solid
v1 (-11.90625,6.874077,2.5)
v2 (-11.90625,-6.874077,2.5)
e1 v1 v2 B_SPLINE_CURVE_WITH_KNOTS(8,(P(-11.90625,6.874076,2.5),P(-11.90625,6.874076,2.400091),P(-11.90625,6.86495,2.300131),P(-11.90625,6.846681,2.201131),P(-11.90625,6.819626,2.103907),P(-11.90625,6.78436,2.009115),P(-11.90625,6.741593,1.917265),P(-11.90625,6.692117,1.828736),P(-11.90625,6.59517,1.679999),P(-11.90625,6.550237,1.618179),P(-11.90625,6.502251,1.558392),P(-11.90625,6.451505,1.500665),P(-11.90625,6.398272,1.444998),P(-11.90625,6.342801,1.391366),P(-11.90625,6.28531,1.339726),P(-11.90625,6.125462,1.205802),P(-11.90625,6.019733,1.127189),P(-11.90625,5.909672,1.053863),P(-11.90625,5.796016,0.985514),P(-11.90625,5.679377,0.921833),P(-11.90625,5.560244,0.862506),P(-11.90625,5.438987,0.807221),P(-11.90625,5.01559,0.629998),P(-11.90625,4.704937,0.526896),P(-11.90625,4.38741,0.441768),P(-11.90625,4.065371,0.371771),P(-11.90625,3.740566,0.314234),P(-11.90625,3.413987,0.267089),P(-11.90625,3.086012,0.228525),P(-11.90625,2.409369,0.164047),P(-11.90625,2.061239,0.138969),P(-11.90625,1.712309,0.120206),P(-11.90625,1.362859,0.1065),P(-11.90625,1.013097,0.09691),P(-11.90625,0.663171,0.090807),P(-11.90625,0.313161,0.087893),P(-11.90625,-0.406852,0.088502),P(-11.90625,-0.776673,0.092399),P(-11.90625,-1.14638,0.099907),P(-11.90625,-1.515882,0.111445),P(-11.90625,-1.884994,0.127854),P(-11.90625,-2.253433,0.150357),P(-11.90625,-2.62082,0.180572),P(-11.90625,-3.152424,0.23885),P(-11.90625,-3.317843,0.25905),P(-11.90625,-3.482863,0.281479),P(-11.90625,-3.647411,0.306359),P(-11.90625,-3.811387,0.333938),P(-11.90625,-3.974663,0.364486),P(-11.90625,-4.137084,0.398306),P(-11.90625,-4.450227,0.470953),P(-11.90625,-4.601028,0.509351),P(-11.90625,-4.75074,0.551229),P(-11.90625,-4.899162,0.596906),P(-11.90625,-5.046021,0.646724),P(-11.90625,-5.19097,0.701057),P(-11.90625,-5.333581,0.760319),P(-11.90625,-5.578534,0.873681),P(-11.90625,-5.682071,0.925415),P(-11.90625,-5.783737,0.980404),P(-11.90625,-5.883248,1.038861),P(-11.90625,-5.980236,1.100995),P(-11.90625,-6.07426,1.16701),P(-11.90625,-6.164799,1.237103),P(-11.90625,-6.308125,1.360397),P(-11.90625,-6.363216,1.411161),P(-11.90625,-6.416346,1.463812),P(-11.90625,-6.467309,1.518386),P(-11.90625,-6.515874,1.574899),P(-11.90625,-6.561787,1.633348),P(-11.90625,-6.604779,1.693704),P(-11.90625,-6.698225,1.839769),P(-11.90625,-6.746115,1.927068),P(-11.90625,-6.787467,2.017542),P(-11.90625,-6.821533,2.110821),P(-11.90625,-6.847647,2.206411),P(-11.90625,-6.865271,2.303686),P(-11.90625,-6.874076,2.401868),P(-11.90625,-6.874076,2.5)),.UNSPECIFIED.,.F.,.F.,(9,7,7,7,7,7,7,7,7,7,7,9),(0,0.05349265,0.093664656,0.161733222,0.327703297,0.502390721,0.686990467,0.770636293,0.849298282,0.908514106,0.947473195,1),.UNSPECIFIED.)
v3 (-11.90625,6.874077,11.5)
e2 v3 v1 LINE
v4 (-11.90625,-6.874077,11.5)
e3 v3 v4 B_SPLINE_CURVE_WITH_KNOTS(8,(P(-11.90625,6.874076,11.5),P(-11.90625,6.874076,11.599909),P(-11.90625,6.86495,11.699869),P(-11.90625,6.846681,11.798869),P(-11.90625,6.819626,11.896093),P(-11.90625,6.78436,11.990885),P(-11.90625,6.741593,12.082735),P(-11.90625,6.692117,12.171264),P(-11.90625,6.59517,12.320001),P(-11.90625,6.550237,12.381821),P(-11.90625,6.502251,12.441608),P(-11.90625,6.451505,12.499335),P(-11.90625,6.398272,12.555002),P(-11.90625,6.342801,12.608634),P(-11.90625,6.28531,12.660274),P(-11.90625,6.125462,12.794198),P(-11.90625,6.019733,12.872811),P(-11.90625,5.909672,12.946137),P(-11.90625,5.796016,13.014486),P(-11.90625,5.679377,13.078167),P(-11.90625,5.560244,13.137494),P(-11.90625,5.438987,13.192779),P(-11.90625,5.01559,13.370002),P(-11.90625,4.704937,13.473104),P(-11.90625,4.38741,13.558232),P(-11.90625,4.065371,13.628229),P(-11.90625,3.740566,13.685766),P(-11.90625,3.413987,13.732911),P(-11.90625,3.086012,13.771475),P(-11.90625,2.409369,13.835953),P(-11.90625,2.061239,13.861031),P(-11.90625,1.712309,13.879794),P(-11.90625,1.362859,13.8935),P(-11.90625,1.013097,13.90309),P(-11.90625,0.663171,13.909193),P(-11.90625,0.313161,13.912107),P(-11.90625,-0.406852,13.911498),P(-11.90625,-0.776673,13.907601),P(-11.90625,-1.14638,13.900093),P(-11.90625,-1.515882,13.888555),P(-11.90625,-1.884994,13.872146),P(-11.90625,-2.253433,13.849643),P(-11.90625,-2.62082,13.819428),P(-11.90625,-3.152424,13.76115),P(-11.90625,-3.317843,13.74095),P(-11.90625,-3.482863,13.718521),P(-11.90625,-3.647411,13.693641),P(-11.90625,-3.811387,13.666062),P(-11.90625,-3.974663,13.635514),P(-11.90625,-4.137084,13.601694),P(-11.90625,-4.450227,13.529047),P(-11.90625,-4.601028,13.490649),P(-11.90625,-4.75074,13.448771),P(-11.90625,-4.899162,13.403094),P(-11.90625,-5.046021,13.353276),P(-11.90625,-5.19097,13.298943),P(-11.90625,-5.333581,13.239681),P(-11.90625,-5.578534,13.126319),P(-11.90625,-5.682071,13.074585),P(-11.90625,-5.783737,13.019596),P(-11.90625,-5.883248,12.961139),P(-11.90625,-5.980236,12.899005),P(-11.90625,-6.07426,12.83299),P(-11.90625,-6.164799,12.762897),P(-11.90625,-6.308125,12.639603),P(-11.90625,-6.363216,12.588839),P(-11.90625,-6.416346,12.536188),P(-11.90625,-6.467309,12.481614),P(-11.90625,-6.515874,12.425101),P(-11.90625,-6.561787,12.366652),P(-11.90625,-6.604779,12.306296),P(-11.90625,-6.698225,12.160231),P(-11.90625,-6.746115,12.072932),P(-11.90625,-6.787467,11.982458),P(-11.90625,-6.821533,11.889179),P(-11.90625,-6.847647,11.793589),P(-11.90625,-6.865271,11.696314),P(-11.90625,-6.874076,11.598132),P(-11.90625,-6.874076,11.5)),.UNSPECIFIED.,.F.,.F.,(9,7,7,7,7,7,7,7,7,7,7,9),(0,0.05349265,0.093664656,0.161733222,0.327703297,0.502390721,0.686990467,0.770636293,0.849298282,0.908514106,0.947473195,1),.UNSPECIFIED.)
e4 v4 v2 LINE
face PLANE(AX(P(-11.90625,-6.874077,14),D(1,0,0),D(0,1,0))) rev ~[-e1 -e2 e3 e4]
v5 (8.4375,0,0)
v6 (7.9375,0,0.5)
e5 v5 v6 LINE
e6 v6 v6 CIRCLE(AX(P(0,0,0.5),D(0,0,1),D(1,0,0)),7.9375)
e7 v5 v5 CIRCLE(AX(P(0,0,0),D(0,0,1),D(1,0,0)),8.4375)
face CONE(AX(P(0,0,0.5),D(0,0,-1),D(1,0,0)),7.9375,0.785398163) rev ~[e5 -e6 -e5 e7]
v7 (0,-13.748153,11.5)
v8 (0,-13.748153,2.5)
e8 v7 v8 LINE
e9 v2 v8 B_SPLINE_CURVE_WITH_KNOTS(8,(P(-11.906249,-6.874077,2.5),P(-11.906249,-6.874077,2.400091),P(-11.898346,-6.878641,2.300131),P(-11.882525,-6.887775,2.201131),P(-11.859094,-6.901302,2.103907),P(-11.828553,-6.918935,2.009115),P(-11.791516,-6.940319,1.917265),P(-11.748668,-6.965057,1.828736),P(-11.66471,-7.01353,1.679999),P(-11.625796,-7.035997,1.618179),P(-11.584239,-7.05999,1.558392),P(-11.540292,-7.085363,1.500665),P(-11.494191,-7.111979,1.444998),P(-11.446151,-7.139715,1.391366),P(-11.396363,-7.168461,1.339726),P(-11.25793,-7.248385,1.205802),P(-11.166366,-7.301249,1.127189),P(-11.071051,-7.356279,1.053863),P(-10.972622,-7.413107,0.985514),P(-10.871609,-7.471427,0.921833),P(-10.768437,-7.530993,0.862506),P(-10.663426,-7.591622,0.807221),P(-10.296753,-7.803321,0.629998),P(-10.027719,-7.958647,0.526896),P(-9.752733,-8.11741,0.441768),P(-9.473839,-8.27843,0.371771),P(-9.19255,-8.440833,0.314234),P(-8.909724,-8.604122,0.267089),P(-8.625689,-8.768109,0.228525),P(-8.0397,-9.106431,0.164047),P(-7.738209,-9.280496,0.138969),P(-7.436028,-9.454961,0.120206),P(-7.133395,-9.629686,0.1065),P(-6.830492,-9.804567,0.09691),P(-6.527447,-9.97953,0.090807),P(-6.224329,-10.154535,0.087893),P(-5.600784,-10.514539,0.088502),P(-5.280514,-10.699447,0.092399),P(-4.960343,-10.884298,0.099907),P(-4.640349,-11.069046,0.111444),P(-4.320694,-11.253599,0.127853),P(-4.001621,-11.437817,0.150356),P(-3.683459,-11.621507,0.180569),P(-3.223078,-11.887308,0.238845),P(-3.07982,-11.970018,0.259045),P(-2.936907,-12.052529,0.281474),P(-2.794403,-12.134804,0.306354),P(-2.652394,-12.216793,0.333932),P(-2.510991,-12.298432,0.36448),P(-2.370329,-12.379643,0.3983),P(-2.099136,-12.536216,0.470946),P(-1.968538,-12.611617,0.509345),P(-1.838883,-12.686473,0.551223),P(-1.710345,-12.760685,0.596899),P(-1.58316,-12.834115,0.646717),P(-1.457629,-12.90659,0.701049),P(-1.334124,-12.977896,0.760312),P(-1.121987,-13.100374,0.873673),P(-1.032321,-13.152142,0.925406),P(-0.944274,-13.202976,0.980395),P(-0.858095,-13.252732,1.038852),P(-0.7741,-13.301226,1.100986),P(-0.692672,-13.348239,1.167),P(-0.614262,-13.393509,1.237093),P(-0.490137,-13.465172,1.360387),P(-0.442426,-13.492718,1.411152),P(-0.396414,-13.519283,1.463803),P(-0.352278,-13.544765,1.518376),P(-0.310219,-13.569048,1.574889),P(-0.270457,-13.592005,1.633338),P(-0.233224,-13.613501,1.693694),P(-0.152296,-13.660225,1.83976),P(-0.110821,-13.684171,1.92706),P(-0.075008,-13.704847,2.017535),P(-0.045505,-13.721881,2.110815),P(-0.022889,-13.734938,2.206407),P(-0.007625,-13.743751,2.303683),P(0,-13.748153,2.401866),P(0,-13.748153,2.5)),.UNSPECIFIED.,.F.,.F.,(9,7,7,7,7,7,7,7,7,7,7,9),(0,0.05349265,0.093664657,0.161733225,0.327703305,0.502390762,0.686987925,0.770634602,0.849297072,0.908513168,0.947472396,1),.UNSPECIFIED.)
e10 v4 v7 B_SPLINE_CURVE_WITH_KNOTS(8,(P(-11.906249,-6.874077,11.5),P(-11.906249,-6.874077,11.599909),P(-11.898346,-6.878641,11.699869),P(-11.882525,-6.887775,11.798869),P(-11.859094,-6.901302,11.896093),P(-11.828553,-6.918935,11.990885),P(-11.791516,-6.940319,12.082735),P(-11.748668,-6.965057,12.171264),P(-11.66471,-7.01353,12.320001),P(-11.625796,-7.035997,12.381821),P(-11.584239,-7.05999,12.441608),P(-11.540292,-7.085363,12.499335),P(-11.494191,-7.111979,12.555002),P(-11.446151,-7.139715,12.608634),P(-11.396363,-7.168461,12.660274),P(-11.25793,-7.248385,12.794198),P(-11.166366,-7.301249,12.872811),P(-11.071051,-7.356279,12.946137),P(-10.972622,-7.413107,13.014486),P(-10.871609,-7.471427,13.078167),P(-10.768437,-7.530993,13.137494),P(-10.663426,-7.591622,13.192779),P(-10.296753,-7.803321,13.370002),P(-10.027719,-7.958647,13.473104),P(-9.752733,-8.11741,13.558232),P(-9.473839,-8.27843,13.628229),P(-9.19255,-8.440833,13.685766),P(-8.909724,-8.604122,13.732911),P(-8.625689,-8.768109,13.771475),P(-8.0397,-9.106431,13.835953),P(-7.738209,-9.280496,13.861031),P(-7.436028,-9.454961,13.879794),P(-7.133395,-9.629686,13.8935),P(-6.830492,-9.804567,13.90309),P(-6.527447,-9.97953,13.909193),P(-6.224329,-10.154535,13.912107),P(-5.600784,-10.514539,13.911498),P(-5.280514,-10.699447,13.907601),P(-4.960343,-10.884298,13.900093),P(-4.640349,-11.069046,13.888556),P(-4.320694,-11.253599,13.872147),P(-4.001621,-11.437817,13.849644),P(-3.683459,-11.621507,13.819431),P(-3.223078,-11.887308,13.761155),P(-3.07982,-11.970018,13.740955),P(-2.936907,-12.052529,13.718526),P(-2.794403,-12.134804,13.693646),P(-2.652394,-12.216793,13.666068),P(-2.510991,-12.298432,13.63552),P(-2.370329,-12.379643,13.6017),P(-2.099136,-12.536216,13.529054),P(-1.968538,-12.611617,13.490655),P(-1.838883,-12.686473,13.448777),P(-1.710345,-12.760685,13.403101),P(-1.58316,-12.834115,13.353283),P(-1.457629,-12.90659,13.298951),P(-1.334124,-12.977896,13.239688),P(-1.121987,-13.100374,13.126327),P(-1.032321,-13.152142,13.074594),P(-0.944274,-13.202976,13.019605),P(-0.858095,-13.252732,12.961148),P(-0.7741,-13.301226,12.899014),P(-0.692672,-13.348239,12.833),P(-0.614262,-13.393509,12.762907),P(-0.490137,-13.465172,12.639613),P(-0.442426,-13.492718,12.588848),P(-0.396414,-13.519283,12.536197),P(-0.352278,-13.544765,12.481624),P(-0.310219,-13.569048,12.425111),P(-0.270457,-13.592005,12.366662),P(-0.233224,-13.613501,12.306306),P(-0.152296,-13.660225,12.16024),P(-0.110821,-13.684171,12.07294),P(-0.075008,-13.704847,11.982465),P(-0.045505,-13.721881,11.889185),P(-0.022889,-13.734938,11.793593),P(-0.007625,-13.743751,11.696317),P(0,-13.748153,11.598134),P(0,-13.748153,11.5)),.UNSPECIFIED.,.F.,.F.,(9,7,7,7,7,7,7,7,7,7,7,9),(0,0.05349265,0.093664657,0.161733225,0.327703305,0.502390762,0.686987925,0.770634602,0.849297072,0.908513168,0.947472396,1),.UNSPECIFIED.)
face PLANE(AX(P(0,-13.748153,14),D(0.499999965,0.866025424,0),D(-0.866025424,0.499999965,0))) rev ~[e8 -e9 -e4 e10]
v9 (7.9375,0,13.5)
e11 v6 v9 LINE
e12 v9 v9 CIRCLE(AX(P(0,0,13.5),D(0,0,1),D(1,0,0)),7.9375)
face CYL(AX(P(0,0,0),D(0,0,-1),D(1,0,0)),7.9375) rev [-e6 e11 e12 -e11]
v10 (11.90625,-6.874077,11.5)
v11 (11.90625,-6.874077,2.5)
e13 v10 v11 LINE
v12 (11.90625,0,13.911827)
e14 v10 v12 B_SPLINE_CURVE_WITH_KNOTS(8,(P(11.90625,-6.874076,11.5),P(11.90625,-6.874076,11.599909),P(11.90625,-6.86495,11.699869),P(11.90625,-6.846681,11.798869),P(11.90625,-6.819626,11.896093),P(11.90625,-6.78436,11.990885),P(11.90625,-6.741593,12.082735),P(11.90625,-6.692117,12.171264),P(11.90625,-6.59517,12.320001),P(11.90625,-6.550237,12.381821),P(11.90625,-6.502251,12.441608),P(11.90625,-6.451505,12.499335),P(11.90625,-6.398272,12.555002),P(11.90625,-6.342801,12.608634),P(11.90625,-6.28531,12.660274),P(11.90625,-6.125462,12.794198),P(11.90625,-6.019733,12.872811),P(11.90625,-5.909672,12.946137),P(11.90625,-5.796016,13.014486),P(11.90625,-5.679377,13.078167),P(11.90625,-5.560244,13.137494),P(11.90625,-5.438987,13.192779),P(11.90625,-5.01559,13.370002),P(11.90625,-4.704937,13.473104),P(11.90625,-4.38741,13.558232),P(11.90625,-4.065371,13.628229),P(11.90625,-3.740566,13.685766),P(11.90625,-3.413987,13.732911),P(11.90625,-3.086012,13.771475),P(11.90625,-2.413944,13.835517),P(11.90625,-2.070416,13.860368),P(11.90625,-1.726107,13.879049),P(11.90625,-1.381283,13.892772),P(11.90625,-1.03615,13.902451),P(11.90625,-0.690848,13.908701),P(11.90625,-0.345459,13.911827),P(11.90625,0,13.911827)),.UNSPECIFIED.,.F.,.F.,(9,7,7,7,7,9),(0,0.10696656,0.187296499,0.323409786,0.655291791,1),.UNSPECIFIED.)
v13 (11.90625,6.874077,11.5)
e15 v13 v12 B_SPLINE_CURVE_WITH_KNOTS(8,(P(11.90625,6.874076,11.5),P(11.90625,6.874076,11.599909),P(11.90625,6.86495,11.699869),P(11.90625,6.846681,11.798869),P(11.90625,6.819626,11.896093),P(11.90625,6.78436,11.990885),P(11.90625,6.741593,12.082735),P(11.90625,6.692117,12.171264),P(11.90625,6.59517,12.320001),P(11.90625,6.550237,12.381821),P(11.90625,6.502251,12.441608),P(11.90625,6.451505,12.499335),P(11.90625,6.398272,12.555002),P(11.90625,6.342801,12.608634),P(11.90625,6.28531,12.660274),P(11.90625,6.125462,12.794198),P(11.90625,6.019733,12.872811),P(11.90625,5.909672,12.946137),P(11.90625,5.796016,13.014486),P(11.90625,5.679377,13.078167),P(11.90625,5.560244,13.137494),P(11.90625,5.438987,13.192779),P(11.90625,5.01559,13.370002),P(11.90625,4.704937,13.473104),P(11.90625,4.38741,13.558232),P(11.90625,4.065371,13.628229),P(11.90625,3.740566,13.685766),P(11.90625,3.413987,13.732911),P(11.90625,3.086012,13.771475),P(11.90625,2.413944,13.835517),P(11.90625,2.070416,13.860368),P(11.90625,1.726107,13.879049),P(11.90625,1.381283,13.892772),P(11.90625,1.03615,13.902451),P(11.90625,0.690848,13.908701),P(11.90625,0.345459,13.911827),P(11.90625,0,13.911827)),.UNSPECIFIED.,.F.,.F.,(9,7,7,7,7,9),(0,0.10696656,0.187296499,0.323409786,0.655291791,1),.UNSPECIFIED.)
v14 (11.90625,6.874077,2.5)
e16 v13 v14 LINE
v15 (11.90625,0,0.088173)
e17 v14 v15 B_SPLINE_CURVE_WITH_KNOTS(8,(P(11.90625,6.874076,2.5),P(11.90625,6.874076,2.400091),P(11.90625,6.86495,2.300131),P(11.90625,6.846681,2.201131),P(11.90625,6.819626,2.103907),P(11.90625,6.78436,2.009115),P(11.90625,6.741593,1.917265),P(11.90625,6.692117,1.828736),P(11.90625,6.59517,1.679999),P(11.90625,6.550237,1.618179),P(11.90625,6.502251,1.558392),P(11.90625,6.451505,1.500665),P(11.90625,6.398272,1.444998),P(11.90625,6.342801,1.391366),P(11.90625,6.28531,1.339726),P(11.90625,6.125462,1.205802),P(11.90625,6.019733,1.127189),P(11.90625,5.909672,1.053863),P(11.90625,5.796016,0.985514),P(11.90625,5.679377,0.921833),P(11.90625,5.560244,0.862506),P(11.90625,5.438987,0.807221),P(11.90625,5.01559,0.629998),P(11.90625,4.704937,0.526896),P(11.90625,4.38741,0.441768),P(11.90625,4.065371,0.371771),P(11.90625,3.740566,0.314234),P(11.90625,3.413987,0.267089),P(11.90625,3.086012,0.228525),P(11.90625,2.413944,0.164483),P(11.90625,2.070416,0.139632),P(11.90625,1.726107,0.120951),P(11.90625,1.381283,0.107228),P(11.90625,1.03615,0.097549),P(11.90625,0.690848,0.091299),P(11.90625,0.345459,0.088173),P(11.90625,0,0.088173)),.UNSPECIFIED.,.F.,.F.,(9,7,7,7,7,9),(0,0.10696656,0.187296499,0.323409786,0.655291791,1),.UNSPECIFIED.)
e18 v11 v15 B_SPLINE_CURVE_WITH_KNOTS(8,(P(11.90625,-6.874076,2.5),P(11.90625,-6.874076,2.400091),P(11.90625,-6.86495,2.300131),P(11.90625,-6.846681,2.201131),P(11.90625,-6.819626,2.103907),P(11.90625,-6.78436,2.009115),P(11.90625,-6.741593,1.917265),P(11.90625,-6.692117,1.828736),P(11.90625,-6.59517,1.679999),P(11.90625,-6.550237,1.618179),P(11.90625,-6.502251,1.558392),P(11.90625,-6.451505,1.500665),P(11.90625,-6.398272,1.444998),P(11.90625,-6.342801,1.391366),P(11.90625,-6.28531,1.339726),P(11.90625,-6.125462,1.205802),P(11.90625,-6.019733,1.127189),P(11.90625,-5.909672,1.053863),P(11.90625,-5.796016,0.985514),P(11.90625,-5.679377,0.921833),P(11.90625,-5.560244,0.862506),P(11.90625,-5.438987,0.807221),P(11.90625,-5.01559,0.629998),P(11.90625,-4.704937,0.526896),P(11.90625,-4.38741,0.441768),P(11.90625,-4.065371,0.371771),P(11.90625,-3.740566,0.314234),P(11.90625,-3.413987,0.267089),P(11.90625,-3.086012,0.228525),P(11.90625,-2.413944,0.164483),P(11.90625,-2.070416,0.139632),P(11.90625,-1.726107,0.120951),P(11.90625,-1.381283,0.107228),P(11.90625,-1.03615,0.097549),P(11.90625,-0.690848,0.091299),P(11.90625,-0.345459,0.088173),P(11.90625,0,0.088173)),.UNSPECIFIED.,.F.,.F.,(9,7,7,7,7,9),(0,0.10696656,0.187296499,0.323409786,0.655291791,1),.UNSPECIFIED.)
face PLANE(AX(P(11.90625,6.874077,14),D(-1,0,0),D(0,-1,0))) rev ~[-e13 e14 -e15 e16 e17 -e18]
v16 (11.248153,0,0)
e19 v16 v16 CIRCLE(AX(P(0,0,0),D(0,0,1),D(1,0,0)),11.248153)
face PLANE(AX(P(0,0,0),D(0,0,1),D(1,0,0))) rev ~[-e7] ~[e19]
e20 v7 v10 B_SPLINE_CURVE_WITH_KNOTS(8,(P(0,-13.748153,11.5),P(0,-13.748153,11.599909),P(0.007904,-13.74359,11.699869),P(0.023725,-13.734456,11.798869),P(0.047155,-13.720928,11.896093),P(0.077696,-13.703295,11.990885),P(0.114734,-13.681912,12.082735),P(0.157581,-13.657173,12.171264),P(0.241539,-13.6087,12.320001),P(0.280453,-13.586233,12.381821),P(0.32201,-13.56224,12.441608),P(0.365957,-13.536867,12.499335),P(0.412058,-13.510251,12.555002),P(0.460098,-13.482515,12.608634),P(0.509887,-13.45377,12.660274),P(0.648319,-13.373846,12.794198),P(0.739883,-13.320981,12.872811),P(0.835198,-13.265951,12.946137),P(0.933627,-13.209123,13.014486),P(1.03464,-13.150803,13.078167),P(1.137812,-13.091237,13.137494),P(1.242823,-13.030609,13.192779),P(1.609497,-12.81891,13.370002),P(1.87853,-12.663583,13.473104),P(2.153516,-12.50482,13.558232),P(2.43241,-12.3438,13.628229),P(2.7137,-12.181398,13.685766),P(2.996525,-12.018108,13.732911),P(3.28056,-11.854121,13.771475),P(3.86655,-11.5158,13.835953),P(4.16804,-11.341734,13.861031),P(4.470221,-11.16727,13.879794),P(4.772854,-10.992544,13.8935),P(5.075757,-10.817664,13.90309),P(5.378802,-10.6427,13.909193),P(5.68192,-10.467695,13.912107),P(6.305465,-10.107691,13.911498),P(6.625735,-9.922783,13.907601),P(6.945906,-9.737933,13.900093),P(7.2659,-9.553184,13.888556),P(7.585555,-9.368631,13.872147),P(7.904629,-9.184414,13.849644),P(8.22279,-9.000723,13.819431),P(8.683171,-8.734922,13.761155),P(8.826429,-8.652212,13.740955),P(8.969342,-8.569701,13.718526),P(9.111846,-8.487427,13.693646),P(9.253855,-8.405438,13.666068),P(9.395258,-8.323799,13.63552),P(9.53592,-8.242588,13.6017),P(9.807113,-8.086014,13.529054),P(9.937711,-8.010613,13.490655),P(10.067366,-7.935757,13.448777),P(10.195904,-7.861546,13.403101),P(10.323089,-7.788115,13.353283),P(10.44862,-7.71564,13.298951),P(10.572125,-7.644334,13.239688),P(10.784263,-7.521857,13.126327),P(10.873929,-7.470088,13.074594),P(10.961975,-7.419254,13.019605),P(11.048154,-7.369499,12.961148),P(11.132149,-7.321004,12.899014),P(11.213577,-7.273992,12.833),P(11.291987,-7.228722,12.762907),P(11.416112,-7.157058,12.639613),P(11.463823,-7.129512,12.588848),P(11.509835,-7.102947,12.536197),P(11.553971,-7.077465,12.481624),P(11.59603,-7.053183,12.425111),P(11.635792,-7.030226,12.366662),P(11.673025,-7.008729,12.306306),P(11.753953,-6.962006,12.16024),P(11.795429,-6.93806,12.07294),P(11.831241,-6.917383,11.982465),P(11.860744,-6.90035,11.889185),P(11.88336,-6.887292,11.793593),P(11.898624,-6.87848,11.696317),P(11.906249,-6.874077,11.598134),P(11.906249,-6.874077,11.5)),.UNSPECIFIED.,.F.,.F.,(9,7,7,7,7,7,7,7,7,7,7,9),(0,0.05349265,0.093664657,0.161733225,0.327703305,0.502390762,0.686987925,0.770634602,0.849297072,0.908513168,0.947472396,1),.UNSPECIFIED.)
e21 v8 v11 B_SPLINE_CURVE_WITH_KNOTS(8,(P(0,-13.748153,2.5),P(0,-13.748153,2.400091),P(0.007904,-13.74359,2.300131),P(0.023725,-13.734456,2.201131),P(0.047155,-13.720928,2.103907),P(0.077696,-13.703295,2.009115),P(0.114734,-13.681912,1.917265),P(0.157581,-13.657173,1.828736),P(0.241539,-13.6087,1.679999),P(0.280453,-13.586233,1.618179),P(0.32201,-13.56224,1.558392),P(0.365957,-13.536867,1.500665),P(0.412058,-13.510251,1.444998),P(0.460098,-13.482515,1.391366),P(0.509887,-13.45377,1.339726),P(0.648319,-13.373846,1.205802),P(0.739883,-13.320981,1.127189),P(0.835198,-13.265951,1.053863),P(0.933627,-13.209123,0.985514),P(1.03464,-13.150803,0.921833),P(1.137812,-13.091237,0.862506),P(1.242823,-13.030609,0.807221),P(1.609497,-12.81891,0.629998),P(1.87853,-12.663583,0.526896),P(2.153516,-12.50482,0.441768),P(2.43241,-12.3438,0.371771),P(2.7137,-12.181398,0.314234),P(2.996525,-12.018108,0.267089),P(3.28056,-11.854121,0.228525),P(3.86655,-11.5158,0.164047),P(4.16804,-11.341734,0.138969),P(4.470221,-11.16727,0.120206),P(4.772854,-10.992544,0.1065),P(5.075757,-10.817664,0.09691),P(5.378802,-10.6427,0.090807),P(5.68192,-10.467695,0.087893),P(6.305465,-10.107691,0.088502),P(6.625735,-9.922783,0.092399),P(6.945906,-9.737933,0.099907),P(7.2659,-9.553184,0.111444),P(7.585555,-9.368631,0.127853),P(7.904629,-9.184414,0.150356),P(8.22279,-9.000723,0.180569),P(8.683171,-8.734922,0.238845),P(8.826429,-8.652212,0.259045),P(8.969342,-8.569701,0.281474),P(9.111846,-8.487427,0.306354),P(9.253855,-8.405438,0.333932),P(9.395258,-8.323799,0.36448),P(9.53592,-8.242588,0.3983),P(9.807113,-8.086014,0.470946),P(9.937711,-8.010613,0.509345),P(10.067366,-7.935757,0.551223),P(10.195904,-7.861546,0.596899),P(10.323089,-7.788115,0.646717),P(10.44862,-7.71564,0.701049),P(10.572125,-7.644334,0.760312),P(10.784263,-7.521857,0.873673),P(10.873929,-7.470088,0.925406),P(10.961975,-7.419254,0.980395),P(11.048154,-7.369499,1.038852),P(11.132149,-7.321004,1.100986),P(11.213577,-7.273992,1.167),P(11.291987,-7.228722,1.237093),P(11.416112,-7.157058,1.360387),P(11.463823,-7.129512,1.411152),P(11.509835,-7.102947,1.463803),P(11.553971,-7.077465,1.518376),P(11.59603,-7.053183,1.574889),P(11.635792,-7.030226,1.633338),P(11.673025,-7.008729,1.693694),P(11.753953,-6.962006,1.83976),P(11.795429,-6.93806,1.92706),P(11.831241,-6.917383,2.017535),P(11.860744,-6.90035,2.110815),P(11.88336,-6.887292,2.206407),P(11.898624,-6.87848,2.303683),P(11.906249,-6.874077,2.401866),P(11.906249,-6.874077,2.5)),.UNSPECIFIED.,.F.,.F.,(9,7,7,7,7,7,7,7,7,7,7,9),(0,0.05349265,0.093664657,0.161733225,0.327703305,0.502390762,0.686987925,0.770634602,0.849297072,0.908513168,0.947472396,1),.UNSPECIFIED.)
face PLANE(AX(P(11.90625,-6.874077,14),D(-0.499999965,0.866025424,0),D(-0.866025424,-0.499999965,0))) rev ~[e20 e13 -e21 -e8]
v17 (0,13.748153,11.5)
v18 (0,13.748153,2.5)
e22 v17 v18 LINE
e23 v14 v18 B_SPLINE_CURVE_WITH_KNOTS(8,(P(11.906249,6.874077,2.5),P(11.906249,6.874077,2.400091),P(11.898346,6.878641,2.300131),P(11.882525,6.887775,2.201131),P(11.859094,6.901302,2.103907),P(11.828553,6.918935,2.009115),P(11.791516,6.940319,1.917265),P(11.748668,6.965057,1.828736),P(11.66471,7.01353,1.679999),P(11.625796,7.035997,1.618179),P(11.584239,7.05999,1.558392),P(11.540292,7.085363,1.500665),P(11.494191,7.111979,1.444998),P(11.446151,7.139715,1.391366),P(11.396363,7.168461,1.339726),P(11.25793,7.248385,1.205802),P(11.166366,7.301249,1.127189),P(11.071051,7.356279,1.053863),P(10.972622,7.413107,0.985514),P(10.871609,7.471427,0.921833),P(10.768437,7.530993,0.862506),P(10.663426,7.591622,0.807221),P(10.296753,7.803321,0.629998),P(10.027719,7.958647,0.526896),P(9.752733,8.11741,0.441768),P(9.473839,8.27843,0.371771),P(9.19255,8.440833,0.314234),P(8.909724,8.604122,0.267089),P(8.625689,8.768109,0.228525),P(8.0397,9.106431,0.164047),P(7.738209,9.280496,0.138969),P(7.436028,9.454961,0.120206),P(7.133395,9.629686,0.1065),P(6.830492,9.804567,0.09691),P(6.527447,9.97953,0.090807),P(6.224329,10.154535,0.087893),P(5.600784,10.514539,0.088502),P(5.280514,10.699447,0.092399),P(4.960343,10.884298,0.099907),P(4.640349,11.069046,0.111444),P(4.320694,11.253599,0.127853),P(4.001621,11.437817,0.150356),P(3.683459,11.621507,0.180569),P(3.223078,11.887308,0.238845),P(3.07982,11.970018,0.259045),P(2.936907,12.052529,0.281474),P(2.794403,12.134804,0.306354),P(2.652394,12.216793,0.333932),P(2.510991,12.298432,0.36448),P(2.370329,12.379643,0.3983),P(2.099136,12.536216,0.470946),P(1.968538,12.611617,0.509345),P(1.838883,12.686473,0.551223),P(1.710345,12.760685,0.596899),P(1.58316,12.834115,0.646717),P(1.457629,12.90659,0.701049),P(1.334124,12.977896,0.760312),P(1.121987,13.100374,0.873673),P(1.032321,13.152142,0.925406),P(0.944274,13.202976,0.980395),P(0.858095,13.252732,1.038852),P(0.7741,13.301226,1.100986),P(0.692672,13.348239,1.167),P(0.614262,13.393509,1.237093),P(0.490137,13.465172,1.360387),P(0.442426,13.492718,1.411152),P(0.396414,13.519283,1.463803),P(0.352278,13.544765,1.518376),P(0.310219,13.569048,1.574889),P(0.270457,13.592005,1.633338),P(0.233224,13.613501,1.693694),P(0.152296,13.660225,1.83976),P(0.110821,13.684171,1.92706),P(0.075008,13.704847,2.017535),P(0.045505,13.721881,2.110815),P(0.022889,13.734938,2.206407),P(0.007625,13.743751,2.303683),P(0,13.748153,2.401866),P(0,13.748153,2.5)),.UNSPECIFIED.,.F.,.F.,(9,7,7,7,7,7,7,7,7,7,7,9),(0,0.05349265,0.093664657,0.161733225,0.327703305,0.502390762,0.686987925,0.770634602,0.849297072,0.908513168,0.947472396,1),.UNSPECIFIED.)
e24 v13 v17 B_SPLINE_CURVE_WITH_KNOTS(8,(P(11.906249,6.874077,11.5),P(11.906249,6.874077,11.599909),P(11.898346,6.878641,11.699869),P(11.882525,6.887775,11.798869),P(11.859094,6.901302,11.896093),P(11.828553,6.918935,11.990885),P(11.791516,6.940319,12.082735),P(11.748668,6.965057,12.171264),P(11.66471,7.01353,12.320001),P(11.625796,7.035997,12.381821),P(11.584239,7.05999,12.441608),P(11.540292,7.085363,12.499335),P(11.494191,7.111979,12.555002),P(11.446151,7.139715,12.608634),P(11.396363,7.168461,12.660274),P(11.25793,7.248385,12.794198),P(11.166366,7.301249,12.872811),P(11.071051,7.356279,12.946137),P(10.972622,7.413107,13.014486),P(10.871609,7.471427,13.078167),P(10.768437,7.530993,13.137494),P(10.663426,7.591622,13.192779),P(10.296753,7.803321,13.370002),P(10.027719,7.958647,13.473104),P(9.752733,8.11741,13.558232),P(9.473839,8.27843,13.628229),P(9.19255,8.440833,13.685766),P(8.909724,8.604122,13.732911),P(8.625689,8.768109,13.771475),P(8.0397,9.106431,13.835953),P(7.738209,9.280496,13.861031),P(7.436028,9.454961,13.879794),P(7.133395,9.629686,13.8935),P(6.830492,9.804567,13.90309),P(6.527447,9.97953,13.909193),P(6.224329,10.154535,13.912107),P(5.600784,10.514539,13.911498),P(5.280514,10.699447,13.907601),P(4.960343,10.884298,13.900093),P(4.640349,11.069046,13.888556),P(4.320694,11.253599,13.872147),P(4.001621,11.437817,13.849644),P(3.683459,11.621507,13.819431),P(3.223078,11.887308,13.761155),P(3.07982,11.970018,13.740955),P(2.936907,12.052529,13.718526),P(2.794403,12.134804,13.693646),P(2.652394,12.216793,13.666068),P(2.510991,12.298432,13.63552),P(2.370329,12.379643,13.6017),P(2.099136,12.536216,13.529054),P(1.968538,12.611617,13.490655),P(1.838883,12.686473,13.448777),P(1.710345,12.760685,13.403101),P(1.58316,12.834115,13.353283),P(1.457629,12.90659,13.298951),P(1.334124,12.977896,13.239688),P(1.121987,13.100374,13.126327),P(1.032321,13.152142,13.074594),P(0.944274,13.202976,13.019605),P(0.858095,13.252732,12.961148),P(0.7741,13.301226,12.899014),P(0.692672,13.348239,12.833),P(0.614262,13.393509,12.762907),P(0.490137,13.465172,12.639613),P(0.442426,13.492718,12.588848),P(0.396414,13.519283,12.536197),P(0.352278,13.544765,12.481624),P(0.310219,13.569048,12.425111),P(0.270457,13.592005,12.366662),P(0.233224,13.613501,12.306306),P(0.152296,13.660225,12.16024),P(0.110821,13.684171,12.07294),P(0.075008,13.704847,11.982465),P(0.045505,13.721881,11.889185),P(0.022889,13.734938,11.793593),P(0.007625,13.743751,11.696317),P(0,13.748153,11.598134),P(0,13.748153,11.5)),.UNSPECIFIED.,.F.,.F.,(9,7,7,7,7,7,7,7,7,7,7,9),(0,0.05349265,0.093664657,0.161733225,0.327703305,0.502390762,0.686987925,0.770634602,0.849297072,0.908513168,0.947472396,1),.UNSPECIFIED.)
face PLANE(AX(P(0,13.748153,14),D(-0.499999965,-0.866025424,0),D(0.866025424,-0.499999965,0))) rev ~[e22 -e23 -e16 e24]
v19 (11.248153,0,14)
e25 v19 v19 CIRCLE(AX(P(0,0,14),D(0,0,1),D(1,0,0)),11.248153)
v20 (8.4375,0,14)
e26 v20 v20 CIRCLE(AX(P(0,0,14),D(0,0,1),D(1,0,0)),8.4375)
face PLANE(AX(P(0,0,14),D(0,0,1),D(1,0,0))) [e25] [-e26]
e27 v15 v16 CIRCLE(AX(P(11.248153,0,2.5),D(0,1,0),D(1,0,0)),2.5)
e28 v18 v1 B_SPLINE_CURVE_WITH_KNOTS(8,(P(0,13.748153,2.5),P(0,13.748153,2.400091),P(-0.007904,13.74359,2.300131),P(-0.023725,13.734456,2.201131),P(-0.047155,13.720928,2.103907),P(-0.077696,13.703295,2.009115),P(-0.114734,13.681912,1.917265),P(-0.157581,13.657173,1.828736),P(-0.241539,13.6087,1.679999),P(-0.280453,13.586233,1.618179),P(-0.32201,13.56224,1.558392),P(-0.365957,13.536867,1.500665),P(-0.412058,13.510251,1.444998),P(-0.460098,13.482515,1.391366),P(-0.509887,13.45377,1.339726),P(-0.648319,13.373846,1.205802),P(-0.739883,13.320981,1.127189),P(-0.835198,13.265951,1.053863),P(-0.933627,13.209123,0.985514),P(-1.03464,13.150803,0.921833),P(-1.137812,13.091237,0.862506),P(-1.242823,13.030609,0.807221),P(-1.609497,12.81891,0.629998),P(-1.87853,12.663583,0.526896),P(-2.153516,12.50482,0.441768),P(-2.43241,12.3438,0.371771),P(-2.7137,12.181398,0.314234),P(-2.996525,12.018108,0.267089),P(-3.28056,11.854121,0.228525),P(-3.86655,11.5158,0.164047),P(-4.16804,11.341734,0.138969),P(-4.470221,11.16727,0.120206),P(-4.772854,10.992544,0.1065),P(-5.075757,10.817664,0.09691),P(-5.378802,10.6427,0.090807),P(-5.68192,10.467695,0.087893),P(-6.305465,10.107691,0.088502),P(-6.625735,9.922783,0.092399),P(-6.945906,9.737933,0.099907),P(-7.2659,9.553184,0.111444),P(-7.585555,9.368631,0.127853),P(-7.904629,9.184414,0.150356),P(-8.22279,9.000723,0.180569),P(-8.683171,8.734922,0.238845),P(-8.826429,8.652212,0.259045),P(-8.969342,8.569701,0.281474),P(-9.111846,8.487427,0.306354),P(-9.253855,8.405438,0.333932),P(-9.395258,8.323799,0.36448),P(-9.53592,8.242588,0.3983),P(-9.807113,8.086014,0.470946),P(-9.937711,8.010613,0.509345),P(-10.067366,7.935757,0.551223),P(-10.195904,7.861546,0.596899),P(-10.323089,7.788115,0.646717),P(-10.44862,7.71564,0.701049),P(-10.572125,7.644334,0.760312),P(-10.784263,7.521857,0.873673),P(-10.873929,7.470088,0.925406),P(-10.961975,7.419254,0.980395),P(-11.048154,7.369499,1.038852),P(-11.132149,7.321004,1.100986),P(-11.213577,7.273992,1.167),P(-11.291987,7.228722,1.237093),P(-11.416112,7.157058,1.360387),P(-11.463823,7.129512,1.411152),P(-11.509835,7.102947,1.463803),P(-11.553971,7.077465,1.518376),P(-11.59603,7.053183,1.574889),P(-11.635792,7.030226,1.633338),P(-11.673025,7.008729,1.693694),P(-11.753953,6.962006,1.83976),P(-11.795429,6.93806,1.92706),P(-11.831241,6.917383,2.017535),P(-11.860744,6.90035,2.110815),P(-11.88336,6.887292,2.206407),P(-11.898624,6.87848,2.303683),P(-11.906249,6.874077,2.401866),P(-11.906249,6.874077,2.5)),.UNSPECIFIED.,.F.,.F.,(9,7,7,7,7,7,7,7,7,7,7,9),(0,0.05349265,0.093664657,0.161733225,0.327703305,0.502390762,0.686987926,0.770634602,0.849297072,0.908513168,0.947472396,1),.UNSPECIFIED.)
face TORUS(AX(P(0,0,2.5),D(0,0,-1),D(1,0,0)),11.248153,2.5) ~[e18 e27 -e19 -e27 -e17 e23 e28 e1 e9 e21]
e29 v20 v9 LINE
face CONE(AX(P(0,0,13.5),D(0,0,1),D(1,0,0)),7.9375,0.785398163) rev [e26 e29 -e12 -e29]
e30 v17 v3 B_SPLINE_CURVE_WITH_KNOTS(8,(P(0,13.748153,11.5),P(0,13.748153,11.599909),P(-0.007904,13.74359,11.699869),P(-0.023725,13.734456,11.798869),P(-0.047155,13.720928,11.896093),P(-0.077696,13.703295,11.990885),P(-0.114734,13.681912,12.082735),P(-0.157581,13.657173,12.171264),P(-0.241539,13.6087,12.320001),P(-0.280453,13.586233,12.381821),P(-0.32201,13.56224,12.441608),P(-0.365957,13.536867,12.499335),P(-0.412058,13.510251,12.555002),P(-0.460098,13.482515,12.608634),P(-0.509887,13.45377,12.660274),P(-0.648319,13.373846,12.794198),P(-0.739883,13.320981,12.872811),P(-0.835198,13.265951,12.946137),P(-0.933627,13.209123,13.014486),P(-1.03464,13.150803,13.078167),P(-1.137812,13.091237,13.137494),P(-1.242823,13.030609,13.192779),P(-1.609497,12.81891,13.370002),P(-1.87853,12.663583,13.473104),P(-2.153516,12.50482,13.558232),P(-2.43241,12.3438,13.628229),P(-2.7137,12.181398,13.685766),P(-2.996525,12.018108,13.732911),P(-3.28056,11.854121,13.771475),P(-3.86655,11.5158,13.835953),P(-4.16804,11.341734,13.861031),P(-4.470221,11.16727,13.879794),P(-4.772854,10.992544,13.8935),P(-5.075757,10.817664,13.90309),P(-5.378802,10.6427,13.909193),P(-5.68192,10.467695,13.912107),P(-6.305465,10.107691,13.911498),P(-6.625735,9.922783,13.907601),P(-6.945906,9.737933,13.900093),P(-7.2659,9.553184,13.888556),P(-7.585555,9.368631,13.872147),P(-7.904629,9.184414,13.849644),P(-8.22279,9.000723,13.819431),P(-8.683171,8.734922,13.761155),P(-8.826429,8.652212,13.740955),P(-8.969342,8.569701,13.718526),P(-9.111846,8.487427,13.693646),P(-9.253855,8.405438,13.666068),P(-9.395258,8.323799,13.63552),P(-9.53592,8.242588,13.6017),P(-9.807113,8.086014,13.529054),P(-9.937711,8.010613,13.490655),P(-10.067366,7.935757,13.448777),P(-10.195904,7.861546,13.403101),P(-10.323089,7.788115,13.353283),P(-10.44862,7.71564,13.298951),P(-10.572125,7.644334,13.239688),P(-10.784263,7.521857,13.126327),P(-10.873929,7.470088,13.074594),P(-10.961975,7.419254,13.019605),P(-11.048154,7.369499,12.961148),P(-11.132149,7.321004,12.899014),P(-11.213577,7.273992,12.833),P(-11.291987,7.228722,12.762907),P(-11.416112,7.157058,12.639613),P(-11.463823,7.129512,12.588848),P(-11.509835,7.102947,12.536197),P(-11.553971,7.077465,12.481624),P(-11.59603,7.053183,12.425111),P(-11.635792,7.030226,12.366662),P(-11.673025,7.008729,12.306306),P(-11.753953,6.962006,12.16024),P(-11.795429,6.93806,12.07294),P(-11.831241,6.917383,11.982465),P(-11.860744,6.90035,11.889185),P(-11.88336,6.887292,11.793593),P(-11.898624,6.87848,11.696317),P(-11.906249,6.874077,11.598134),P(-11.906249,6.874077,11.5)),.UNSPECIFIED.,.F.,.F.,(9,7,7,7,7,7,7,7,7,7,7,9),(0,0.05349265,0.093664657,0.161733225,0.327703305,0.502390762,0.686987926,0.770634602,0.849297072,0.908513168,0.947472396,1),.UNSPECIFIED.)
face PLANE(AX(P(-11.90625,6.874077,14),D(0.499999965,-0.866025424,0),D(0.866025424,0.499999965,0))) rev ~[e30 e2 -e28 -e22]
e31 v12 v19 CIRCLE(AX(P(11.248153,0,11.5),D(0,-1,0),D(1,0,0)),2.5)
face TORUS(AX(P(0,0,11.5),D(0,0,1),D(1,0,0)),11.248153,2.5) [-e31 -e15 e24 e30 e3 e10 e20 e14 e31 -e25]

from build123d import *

# Parameters (mm, degrees)
F0_R     = 13.748153
F0_R_2   = 7.9375
F1_DEPTH = 14
F3_R     = 2.5
F2_R     = 16.813718
F4_DEPTH = 25
F5_SIZE  = 0.5


with BuildPart() as f1:
    # F0 (on Top) → F1 (new body)
    with BuildSketch(Plane.XY):
        Circle(F0_R)
        Circle(F0_R_2, mode=Mode.SUBTRACT)
    extrude(amount=F1_DEPTH)

    # F3
    f3_edges = [f1.edges().sort_by_distance(p)[0] for p in [
        (-13.748153, 0, 14),
        (-13.748153, 0, 0),
    ]]
    fillet(f3_edges, radius=F3_R)

    # F2 (on face) → F4 (cut)
    with BuildSketch(Plane.XY.offset(14)):
        Circle(F2_R)
        Polygon((-11.90625, 6.874077), (0, 13.748153), (11.90625, 6.874077), (11.90625, -6.874077), (0, -13.748153), (-11.90625, -6.874077), align=None, mode=Mode.SUBTRACT)
    extrude(amount=-F4_DEPTH, mode=Mode.SUBTRACT)

    # F5
    f5_edges = [f1.edges().sort_by_distance(p)[0] for p in [
        (7.9375, 0, 7),
        (-7.9375, 0, 0),
        (-7.9375, 0, 14),
    ]]
    chamfer(f5_edges, length=F5_SIZE)


solid = f1.part
